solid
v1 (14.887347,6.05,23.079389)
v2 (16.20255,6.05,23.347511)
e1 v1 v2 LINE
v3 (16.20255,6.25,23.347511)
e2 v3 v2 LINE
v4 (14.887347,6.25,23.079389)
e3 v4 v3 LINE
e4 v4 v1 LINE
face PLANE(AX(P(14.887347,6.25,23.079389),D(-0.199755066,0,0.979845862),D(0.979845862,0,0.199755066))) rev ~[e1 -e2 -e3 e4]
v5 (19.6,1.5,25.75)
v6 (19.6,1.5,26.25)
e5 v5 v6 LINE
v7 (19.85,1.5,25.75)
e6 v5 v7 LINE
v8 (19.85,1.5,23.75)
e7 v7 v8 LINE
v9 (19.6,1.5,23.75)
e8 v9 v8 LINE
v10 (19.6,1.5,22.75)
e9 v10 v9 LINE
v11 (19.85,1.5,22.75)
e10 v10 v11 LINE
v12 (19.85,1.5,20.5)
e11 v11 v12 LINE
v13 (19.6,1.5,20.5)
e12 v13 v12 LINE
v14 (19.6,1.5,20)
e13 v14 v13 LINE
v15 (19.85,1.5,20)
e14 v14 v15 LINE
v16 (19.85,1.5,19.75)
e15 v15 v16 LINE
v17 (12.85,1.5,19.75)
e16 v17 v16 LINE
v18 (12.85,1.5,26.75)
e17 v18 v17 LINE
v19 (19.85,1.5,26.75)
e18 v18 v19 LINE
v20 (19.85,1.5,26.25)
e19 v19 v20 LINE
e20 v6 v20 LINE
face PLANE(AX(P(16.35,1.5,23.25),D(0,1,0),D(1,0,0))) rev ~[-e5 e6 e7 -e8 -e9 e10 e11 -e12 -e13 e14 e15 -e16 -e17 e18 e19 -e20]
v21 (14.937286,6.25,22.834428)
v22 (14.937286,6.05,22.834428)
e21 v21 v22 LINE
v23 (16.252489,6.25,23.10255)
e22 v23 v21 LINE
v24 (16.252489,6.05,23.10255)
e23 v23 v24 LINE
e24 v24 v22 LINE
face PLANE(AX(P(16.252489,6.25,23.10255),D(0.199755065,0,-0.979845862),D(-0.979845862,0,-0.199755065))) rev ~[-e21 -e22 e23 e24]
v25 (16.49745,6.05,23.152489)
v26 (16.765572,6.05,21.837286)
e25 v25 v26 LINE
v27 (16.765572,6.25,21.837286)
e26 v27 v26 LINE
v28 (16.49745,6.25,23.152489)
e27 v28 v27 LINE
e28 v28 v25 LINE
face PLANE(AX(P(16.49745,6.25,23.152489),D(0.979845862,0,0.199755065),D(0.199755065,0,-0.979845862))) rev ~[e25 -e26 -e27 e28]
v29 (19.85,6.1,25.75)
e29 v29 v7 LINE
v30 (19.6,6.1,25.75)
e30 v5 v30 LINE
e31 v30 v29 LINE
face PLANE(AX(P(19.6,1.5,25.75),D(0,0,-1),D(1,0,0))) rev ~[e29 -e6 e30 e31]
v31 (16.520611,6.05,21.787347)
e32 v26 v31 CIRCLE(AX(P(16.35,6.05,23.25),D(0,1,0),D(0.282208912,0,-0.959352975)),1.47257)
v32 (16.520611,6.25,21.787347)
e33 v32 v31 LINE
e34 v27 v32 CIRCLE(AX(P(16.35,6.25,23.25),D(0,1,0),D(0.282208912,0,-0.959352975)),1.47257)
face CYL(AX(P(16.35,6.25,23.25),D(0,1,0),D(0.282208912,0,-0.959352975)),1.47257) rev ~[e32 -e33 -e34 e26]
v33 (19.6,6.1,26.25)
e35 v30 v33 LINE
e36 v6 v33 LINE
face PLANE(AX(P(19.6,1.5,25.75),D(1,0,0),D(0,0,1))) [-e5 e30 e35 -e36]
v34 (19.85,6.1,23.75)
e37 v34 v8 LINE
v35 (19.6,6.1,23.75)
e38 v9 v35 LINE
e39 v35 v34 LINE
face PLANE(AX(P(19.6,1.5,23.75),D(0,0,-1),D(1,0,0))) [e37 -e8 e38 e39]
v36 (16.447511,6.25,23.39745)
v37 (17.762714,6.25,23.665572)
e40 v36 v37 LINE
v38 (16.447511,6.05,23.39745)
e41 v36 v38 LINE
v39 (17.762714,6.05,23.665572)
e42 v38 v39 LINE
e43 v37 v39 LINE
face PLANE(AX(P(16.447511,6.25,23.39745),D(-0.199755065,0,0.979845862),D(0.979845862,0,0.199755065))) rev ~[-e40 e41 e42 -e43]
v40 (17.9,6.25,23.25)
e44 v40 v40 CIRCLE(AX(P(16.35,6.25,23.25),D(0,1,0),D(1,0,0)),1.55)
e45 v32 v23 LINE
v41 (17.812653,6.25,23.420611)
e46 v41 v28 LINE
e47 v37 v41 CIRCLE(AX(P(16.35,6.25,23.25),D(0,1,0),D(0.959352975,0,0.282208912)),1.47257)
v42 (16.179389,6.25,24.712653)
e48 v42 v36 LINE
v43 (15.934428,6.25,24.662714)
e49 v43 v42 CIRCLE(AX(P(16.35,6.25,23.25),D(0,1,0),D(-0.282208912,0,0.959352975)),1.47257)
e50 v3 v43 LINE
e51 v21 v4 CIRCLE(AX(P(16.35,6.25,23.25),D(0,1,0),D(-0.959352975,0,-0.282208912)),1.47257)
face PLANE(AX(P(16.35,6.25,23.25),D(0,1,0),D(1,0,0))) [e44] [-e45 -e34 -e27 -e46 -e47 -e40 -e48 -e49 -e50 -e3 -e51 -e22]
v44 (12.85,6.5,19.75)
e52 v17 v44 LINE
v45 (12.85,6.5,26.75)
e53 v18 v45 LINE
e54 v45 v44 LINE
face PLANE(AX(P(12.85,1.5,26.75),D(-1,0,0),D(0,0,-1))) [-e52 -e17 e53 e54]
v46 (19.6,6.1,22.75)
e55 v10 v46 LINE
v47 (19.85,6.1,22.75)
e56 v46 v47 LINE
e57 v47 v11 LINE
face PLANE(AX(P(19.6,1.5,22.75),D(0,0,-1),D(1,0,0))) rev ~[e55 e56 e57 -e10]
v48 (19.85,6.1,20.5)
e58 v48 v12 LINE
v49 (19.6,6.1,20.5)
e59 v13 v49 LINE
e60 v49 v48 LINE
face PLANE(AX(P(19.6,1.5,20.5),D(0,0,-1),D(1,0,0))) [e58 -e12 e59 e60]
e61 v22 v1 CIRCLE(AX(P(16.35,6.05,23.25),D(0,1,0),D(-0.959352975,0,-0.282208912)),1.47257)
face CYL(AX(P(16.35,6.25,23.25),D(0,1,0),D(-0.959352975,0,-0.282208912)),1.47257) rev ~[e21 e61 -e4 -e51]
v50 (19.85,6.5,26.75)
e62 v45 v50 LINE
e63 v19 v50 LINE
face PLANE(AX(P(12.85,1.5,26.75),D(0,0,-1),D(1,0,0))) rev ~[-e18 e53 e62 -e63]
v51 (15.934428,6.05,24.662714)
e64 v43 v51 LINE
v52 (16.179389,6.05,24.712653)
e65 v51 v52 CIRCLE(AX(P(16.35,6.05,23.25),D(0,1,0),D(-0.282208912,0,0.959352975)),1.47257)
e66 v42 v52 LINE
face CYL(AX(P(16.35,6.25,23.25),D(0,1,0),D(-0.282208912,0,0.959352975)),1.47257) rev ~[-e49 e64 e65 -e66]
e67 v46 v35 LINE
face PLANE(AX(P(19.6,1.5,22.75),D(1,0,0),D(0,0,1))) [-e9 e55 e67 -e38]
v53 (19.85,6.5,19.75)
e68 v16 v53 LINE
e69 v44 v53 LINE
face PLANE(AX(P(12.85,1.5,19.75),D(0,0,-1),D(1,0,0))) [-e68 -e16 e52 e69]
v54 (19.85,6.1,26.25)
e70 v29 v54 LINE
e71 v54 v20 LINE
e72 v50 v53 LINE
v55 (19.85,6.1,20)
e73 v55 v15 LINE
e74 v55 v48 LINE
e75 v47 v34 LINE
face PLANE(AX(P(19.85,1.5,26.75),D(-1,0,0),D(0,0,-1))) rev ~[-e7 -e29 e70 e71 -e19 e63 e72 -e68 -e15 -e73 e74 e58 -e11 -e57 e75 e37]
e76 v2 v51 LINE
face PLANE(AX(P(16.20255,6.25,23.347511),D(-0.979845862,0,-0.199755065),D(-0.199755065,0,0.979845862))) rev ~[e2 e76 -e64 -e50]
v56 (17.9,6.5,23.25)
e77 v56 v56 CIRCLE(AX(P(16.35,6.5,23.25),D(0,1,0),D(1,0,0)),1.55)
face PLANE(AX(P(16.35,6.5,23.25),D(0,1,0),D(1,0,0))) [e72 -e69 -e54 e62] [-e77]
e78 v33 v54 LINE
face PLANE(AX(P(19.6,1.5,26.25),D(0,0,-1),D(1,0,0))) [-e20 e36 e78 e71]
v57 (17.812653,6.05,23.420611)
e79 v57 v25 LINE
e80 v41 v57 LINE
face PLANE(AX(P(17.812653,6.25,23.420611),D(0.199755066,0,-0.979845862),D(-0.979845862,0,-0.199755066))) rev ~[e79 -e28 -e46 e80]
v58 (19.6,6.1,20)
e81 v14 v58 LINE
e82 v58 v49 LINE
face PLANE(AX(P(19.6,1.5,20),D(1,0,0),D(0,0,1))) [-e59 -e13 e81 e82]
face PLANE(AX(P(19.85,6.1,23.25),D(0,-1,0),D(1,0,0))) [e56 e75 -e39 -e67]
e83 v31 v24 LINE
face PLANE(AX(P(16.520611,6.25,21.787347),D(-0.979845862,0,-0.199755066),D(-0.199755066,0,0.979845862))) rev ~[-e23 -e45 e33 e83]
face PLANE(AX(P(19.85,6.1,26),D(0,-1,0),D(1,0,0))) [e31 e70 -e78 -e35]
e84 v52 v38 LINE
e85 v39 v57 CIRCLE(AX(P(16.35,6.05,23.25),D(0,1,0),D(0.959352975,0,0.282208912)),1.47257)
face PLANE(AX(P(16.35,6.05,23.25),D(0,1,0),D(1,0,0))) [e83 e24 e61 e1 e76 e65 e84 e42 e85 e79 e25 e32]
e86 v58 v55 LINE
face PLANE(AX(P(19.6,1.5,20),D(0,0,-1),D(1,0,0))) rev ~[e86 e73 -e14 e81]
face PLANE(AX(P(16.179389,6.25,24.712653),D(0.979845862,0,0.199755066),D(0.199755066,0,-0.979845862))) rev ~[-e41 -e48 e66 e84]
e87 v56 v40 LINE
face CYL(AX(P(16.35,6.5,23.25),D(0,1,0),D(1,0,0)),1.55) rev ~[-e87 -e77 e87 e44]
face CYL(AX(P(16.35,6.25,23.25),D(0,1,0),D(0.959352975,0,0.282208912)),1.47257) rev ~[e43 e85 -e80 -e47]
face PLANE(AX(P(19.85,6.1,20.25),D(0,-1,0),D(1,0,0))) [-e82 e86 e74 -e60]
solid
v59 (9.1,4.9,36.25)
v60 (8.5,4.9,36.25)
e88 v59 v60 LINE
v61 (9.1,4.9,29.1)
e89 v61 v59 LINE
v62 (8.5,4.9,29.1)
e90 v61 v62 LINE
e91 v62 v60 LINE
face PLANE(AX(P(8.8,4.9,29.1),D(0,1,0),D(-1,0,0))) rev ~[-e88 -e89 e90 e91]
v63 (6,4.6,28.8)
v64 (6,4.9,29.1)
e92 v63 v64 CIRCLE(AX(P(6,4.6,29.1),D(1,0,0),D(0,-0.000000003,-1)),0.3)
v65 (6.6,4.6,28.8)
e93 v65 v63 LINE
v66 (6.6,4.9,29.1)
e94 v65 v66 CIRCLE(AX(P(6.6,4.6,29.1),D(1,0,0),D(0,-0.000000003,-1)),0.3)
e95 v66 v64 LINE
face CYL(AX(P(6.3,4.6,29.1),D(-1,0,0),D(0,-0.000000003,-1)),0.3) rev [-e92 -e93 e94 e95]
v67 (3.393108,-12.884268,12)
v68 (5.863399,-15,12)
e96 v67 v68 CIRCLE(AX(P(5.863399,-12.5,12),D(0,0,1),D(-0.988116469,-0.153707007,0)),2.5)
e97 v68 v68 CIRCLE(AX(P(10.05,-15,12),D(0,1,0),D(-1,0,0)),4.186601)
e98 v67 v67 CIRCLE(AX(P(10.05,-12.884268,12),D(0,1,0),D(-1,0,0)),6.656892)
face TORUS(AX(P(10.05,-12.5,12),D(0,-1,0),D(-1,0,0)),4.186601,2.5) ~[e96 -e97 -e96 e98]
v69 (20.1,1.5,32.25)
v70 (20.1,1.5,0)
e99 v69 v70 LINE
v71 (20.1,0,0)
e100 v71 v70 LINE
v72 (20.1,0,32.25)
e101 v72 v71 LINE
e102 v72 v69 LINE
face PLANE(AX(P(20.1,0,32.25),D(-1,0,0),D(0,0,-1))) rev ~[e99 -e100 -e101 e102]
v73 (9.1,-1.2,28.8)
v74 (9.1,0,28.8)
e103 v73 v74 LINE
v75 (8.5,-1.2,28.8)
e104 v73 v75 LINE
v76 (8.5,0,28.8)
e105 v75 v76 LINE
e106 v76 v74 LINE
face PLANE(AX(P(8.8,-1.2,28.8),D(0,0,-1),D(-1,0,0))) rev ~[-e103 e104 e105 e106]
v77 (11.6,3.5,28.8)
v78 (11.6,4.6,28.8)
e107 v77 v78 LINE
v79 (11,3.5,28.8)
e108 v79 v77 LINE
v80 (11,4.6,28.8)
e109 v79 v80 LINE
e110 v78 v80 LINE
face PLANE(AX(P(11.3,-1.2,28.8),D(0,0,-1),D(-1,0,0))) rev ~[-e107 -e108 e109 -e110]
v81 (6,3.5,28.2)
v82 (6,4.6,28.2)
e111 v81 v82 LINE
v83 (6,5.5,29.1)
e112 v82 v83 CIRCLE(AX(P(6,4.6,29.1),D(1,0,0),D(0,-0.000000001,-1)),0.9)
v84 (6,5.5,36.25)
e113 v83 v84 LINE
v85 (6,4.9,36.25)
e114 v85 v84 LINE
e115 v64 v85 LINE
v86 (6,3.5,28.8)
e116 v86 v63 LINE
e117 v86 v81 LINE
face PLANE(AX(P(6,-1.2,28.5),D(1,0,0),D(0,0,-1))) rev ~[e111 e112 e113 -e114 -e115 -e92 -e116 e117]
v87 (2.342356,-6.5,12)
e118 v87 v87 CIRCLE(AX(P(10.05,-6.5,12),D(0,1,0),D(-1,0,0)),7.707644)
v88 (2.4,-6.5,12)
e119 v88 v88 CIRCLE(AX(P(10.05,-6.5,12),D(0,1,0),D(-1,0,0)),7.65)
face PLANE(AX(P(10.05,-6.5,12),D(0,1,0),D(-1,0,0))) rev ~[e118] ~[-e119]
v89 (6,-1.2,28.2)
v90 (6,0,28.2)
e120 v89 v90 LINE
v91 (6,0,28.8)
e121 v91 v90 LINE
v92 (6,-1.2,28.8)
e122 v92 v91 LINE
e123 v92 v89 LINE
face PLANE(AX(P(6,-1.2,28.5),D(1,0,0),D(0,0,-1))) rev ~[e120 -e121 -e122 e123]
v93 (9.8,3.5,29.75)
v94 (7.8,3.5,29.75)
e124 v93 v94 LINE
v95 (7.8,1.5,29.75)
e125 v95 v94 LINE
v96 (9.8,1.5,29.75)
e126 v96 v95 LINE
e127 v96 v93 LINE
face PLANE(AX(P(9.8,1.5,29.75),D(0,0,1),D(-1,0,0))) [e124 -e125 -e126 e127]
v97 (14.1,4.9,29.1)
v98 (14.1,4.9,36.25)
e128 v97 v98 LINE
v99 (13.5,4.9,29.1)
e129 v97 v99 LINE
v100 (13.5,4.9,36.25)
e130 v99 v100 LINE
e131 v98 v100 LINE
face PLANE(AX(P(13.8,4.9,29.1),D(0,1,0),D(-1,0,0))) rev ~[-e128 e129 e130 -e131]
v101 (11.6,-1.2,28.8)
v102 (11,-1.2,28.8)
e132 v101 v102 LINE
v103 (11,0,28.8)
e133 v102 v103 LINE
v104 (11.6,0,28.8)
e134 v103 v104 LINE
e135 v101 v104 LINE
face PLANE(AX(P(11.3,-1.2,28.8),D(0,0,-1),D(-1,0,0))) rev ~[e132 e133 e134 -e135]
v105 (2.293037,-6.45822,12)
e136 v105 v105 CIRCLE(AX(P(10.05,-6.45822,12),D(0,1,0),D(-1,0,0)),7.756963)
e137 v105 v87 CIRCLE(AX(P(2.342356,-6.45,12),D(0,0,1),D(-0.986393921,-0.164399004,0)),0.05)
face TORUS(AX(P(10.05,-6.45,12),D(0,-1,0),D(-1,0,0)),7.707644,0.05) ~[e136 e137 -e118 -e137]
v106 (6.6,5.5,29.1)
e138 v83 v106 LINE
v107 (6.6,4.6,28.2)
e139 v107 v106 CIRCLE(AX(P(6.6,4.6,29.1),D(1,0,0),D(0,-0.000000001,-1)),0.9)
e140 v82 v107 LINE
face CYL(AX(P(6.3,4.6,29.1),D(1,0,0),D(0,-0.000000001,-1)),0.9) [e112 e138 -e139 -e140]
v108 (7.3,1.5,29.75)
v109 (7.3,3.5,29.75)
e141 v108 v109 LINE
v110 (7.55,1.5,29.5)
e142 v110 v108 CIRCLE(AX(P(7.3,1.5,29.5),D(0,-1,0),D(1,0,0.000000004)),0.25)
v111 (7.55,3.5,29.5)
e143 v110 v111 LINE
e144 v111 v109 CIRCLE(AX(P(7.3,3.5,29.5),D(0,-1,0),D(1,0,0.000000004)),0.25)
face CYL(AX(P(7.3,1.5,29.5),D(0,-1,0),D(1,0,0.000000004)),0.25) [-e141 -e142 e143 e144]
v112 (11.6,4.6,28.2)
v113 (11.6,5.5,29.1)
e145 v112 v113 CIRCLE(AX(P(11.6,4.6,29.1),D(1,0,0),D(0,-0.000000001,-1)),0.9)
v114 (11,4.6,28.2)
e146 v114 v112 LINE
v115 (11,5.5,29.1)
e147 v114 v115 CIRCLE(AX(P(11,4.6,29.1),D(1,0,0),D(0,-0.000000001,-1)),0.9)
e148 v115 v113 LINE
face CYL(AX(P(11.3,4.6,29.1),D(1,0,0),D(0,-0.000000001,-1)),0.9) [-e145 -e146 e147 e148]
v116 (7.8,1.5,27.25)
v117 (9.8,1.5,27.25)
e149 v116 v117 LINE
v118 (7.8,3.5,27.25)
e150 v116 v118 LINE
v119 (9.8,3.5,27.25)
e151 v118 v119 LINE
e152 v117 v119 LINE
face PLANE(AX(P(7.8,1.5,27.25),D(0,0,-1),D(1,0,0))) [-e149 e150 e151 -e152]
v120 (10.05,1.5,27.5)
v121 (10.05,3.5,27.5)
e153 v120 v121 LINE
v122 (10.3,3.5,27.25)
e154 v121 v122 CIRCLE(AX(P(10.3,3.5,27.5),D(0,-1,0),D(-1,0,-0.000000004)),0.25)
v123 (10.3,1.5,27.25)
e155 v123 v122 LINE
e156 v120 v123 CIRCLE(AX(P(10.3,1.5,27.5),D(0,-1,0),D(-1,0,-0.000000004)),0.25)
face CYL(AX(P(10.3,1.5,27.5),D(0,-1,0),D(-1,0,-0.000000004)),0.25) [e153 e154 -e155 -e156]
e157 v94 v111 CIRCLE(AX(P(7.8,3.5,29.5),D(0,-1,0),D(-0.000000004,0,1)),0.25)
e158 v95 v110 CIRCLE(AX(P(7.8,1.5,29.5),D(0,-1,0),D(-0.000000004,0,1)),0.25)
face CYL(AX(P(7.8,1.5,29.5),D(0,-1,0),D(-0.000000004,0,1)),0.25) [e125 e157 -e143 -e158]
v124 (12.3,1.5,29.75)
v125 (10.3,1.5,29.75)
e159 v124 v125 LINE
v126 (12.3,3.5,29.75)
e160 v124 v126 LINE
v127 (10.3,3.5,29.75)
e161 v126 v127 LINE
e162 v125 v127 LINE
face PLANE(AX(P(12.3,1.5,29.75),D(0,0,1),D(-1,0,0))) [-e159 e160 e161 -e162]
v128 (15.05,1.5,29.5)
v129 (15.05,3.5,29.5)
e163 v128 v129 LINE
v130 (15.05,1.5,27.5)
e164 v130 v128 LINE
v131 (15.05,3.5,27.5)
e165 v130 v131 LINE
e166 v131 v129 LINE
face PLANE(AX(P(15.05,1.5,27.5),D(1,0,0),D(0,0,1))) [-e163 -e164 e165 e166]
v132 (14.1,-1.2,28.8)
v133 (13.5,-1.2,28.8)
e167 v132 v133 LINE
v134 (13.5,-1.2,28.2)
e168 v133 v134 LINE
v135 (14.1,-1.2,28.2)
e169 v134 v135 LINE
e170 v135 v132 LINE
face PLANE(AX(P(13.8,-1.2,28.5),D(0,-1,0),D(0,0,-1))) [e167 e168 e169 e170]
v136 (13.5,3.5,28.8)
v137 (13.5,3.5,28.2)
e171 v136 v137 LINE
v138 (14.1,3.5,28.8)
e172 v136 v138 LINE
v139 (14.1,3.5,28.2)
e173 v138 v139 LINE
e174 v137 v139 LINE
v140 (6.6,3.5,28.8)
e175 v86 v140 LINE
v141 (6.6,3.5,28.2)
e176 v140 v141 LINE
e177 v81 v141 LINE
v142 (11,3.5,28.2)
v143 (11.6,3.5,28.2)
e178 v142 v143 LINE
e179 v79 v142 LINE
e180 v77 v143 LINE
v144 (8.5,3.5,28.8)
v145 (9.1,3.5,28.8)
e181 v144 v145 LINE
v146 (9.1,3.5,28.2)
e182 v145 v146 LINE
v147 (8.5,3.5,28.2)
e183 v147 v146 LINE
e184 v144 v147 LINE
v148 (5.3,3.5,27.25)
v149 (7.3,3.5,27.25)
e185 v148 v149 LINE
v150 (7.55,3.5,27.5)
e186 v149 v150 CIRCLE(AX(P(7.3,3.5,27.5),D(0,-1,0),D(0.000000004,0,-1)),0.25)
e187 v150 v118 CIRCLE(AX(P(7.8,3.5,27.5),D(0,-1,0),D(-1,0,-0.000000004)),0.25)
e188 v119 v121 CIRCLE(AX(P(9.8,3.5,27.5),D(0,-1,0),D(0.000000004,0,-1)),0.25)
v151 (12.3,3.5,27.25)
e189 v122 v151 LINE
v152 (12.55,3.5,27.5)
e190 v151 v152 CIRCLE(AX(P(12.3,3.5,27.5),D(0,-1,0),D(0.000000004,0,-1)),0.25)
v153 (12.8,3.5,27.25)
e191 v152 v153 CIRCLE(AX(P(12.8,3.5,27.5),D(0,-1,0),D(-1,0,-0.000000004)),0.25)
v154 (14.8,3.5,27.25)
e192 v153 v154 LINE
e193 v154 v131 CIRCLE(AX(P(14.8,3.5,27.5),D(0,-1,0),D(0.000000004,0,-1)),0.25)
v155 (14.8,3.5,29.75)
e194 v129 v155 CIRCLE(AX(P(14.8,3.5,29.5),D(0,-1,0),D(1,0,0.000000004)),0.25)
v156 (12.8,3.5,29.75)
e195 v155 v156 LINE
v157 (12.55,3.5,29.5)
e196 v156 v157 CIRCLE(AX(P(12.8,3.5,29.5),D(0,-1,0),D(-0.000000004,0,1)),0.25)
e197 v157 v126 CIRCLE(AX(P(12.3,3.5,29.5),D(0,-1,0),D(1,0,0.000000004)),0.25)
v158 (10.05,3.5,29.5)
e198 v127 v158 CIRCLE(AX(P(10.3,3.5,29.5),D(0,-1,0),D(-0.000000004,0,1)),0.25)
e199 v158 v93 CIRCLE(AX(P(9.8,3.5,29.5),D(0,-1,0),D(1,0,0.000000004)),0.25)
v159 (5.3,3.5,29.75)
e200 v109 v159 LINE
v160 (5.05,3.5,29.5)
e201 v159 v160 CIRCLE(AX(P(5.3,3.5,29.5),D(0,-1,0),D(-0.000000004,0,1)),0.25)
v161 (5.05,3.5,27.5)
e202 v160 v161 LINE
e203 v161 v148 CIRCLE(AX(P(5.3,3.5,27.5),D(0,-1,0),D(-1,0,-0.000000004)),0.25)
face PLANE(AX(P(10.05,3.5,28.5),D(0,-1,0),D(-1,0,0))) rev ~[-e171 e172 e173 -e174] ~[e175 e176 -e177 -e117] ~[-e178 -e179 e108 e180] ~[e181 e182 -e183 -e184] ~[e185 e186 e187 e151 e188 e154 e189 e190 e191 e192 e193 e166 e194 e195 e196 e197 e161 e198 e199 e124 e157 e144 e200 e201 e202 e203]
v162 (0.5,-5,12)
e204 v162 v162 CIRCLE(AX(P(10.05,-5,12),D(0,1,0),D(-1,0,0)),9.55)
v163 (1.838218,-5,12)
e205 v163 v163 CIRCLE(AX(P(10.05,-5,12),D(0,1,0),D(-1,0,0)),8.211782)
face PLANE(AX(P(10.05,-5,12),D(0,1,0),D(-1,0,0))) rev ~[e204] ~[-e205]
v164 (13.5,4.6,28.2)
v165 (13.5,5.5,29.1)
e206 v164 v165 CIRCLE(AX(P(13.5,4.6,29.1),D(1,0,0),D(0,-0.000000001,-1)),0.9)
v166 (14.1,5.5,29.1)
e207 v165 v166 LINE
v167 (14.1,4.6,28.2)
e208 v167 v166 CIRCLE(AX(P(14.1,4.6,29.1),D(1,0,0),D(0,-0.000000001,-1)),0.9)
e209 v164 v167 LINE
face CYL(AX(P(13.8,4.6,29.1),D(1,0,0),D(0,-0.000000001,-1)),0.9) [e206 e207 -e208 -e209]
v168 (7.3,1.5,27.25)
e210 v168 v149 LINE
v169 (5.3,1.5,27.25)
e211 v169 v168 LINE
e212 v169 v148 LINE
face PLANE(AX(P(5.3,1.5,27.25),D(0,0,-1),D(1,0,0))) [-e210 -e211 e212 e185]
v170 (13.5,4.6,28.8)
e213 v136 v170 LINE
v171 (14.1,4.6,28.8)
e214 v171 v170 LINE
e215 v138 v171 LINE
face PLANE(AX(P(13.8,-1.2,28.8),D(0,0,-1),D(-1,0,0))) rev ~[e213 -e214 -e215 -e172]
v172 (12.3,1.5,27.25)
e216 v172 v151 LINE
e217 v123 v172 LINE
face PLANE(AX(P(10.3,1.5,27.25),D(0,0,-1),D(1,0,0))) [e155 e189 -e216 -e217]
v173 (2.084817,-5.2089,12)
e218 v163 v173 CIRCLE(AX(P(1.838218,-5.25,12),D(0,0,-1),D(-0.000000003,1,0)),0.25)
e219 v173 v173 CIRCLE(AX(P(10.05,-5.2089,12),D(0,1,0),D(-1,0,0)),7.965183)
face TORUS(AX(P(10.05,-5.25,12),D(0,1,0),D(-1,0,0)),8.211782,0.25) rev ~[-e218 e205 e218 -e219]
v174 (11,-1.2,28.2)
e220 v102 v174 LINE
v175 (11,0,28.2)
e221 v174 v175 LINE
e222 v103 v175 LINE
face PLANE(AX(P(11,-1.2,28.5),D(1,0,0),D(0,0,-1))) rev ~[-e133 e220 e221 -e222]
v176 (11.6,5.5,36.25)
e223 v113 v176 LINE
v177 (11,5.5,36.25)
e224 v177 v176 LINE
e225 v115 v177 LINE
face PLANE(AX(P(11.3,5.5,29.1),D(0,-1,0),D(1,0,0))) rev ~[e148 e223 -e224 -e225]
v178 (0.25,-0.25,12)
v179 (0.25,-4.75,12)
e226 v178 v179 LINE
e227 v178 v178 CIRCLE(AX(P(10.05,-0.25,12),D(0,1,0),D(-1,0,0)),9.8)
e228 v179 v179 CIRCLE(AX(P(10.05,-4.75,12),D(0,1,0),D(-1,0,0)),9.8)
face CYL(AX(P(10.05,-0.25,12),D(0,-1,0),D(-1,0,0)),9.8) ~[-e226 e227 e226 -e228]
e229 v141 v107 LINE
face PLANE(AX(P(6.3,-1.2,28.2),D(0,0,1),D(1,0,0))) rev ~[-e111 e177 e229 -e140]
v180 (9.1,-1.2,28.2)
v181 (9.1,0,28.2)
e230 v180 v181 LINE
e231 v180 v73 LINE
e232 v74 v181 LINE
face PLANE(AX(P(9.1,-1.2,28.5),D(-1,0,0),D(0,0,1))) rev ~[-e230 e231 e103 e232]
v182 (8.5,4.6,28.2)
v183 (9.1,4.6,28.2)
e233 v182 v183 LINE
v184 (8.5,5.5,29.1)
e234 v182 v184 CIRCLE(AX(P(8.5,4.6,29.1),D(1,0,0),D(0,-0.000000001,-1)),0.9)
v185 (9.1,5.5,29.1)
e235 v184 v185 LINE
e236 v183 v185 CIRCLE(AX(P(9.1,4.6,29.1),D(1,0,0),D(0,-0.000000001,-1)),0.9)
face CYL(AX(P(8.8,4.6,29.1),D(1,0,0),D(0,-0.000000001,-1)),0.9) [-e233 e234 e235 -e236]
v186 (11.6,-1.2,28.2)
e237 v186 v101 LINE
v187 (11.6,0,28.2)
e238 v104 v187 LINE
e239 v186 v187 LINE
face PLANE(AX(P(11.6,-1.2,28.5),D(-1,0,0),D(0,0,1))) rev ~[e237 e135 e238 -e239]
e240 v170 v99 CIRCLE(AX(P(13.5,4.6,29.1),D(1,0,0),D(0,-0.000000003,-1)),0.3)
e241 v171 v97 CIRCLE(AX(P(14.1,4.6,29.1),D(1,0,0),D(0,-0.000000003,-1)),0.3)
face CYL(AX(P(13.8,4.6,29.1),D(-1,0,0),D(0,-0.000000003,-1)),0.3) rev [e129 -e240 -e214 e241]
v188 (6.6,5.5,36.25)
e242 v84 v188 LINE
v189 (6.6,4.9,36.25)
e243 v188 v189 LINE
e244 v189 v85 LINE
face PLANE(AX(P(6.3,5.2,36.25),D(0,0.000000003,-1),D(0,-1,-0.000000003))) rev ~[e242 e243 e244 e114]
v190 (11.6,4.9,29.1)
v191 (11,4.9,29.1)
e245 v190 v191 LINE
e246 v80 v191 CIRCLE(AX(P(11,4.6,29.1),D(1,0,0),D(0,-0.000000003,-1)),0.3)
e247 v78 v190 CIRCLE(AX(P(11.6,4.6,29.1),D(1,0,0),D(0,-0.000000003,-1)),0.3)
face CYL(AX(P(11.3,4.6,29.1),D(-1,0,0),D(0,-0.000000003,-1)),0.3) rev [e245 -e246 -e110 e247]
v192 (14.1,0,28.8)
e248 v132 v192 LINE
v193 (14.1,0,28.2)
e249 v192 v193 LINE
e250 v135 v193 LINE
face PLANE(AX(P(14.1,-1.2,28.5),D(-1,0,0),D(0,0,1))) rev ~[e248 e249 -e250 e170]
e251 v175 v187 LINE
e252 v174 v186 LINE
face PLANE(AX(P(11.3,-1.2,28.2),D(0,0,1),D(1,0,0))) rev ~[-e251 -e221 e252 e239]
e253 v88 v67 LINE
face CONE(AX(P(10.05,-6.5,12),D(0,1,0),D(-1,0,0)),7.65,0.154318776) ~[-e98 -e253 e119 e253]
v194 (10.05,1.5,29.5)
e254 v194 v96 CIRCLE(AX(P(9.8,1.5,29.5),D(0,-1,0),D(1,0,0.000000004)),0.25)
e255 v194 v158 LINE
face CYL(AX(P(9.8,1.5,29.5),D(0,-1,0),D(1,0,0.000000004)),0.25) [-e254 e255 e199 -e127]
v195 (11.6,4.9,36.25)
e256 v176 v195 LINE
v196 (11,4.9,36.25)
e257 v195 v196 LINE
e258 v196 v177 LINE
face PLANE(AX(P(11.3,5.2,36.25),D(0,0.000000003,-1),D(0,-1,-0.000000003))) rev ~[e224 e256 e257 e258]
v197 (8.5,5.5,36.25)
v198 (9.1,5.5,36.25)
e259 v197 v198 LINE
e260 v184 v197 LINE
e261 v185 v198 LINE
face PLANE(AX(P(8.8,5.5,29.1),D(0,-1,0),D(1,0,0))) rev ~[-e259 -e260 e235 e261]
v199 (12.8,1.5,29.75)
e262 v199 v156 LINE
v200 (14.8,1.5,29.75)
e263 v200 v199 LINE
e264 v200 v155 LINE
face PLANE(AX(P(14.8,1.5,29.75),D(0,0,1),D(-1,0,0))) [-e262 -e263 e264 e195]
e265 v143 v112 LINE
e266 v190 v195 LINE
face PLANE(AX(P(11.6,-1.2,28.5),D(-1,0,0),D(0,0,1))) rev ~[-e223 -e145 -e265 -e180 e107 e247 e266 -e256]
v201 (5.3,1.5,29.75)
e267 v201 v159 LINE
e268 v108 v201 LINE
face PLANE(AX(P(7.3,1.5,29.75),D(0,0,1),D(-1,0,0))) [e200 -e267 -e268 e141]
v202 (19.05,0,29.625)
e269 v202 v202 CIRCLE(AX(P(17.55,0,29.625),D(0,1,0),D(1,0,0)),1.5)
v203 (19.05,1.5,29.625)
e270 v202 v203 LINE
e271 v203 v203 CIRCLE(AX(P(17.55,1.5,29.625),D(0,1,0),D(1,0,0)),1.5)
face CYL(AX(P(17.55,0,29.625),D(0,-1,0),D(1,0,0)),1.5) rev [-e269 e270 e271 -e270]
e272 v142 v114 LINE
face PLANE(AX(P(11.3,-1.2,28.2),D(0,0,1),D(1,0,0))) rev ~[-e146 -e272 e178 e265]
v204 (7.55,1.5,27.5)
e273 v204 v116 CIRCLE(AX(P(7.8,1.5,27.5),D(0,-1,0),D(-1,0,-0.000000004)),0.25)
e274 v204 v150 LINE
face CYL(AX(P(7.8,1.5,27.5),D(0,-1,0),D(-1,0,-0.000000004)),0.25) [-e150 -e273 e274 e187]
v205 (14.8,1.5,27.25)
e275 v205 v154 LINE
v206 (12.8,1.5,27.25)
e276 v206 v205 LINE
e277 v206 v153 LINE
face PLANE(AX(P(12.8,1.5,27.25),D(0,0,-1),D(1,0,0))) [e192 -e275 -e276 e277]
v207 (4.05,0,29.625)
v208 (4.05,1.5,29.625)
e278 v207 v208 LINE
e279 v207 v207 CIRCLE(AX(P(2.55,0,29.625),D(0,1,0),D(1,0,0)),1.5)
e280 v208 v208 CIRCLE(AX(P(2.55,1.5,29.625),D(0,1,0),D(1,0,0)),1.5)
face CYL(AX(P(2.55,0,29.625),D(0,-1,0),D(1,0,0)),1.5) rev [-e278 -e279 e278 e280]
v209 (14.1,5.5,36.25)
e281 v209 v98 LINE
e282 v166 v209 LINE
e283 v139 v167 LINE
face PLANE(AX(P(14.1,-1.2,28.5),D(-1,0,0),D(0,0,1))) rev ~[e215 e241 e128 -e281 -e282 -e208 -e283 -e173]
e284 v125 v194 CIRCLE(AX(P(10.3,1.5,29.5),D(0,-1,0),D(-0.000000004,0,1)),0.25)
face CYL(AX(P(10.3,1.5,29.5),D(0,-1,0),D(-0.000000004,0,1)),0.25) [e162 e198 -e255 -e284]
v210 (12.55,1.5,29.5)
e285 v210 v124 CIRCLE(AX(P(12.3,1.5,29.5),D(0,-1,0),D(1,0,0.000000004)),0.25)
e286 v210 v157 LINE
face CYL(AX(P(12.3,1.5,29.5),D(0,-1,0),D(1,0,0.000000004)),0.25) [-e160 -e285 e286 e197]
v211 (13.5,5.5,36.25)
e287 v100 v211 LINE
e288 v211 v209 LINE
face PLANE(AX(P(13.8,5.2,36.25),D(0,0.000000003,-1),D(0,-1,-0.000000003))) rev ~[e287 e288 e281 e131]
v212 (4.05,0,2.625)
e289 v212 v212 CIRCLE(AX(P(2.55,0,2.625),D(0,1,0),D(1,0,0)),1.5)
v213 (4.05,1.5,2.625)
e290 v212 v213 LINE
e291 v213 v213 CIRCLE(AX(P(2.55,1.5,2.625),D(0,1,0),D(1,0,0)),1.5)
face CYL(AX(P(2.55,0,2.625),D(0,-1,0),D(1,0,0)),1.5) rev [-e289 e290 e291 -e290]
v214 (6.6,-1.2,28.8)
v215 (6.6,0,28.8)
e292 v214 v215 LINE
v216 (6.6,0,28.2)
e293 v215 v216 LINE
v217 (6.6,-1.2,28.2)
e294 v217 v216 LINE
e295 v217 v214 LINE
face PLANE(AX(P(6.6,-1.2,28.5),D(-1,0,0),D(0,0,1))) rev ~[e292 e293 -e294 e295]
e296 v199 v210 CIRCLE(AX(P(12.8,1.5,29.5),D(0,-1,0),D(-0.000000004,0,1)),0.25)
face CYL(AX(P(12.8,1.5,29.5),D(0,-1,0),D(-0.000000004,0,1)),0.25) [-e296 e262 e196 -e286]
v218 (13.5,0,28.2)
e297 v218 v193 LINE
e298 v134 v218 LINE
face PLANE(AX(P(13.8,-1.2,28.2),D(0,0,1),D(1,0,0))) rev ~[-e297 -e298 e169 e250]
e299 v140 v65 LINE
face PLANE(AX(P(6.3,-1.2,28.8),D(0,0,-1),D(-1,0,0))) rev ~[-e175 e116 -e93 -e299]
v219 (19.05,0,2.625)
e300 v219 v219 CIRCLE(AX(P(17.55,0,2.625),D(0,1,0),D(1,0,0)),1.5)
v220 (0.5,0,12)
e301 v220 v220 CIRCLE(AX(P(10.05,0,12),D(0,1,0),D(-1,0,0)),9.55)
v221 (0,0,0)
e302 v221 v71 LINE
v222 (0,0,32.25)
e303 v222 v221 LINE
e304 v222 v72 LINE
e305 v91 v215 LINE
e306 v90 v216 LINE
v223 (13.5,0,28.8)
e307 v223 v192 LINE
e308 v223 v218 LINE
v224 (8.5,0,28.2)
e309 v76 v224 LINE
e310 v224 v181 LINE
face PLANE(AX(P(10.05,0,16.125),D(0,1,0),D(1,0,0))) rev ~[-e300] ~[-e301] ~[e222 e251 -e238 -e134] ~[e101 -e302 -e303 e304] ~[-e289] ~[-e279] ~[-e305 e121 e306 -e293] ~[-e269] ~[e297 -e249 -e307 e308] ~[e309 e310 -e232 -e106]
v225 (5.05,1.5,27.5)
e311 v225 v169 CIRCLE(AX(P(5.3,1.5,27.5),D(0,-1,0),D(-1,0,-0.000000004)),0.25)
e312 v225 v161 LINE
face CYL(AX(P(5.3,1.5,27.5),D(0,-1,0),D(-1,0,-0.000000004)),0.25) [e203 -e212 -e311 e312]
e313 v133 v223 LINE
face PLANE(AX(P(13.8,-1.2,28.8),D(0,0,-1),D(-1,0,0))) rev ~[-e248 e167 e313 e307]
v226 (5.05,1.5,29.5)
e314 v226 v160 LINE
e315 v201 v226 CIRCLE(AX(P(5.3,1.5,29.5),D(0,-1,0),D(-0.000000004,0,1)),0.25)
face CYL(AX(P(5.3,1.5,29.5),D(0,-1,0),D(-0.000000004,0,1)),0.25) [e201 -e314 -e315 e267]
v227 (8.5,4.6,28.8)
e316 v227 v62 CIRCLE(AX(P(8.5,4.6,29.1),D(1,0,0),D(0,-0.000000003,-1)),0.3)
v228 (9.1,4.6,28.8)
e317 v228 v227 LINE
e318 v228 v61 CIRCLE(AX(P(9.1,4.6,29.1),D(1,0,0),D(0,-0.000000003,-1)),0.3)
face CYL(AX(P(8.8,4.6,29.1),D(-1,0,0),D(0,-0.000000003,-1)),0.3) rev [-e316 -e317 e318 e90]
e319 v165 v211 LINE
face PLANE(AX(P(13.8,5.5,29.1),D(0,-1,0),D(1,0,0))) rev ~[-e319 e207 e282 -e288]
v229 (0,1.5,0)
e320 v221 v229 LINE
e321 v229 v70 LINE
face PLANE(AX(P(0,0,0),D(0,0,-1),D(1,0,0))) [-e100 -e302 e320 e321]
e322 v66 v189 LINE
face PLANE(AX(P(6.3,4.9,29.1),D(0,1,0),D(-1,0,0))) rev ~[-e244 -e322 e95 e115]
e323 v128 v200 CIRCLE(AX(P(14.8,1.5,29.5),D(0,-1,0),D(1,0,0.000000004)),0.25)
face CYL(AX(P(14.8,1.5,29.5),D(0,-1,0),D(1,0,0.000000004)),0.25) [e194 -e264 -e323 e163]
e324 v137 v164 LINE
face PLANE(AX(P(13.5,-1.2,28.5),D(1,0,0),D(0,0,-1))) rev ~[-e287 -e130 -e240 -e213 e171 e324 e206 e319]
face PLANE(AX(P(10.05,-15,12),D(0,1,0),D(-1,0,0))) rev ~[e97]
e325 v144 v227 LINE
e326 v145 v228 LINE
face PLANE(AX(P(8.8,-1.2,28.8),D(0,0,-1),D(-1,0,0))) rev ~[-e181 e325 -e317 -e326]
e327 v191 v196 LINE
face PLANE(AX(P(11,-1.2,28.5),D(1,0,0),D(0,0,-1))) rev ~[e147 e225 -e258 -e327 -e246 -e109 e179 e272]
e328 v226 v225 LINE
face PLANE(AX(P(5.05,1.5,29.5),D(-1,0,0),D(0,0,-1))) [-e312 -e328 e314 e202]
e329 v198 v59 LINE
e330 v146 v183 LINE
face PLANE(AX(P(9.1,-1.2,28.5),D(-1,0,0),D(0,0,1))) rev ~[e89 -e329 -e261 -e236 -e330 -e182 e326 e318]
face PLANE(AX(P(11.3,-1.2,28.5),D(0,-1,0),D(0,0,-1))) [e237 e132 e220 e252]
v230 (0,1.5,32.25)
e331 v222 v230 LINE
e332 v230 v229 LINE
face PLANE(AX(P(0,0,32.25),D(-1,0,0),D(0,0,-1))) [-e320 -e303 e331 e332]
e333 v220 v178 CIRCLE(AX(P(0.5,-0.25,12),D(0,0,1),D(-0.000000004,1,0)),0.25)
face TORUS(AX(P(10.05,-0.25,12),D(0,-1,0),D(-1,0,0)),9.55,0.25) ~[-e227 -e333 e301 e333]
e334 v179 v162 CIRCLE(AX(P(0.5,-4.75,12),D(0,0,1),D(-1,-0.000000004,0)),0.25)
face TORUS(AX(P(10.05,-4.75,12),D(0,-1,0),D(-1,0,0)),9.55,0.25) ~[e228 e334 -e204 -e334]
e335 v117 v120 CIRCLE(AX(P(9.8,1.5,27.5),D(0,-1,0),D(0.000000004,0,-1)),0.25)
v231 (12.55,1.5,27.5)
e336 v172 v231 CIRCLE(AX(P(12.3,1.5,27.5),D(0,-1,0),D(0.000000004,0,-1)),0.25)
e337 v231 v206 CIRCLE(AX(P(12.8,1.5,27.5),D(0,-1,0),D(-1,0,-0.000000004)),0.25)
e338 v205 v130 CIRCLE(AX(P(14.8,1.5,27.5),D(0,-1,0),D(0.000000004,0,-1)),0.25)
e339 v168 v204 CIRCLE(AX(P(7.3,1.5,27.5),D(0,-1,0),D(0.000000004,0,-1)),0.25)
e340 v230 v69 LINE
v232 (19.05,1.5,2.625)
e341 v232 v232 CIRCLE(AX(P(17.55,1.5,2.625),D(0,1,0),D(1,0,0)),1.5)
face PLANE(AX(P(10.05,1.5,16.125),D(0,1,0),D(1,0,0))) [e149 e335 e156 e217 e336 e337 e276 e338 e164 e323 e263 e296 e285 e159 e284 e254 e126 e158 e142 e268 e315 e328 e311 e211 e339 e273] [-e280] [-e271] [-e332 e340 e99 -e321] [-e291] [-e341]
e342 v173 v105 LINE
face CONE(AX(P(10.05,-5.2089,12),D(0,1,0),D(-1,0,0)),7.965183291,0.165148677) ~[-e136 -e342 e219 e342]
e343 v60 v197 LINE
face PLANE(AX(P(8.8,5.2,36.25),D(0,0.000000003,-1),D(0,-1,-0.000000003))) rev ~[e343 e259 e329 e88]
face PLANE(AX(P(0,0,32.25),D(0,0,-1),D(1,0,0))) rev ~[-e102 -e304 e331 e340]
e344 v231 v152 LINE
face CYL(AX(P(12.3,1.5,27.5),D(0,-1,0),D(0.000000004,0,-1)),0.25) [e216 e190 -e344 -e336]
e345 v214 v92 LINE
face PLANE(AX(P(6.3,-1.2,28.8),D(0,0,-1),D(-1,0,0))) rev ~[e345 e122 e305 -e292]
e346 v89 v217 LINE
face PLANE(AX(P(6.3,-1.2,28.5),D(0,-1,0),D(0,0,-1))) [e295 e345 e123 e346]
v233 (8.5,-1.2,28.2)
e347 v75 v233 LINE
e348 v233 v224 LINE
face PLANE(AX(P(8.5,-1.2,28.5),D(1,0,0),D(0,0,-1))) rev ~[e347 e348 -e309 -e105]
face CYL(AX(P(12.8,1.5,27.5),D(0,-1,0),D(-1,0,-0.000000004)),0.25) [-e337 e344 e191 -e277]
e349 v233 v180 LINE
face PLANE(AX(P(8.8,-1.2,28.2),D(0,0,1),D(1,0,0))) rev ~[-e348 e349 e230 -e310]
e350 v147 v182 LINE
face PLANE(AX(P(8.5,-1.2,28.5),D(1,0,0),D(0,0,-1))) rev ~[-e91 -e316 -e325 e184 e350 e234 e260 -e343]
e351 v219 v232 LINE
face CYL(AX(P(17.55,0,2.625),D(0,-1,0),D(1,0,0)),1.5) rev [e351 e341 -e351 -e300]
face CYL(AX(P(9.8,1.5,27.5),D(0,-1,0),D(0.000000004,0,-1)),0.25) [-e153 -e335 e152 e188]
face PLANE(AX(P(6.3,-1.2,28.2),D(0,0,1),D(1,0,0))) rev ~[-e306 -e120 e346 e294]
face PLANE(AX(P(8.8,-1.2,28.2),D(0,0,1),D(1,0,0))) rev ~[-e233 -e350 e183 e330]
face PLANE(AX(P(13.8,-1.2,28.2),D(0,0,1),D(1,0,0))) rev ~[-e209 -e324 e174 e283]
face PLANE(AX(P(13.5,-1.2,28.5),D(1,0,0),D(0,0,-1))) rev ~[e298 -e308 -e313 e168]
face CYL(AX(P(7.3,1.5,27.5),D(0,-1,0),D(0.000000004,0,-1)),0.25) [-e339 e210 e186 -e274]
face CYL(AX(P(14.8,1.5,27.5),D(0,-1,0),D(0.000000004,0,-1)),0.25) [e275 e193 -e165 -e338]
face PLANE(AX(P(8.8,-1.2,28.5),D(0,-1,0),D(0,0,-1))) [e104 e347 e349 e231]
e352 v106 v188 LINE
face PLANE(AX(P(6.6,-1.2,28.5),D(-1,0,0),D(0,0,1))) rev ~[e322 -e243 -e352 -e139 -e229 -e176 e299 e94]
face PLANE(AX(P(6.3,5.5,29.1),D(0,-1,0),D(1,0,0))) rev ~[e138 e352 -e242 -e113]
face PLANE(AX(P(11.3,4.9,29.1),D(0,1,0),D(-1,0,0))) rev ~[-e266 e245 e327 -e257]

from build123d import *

# Parameters (mm, degrees)
SKETCH1_W           = 20.1
SKETCH1_H           = 32.25
SKETCH1_R           = 1.5
BOSS_EXTRUDE1_DEPTH = 1.5
SKETCH2_W           = 0.6
SKETCH2_H           = 0.6
BOSS_EXTRUDE2_DEPTH = 2
SKETCH4_W           = 0.6
SKETCH4_H           = 0.6
CUT_EXTRUDE1_DEPTH  = 1.5
SKETCH5_W           = 0.6
SKETCH5_H           = 0.6
SKETCH6_W           = 7
SKETCH6_H           = 7
BOSS_EXTRUDE3_DEPTH = 5
SKETCH7_W           = 0.5
SKETCH7_H           = 1
SKETCH7_H_2         = 0.5
CUT_EXTRUDE2_DEPTH  = 4.6
SKETCH8_R           = 1.55
CUT_EXTRUDE3_DEPTH  = 0.25
CUT_EXTRUDE4_DEPTH  = 0.2


with BuildPart() as part:
    # Sketch1 → Boss-Extrude1 (new body)
    with BuildSketch(Plane(origin=(0, 0, 0), x_dir=(1, 0, 0), z_dir=(0, 1, 0))):
        with Locations((10.05, -16.125)):
            Rectangle(SKETCH1_W, SKETCH1_H)
        with Locations((2.55, -2.625)):
            Circle(SKETCH1_R, mode=Mode.SUBTRACT)
        with Locations((17.55, -2.625)):
            Circle(SKETCH1_R, mode=Mode.SUBTRACT)
        with Locations((2.55, -29.625)):
            Circle(SKETCH1_R, mode=Mode.SUBTRACT)
        with Locations((17.55, -29.625)):
            Circle(SKETCH1_R, mode=Mode.SUBTRACT)
    extrude(amount=BOSS_EXTRUDE1_DEPTH)

    # Sketch2 → Boss-Extrude2 (add)
    with BuildSketch(Plane(origin=(0, 1.5, 0), x_dir=(1, 0, 0), z_dir=(0, 1, 0))):
        with BuildLine():
            Line((5.3, -27.25), (7.3, -27.25))
            ThreePointArc((7.3, -27.25), (7.476776695, -27.323223305), (7.55, -27.5))
            ThreePointArc((7.55, -27.5), (7.623223305, -27.323223305), (7.8, -27.25))
            Line((7.8, -27.25), (9.8, -27.25))
            ThreePointArc((9.8, -27.25), (9.976776695, -27.323223305), (10.05, -27.5))
            ThreePointArc((10.05, -27.5), (10.123223305, -27.323223305), (10.3, -27.25))
            Line((10.3, -27.25), (12.3, -27.25))
            ThreePointArc((12.3, -27.25), (12.476776695, -27.323223305), (12.55, -27.5))
            ThreePointArc((12.55, -27.5), (12.623223305, -27.323223305), (12.8, -27.25))
            Line((12.8, -27.25), (14.8, -27.25))
            ThreePointArc((14.8, -27.25), (14.976776695, -27.323223305), (15.05, -27.5))
            Line((15.05, -27.5), (15.05, -29.5))
            ThreePointArc((15.05, -29.5), (14.976776695, -29.676776695), (14.8, -29.75))
            Line((14.8, -29.75), (12.8, -29.75))
            ThreePointArc((12.8, -29.75), (12.623223305, -29.676776695), (12.55, -29.5))
            ThreePointArc((12.55, -29.5), (12.476776695, -29.676776695), (12.3, -29.75))
            Line((12.3, -29.75), (10.3, -29.75))
            ThreePointArc((10.3, -29.75), (10.123223305, -29.676776695), (10.05, -29.5))
            ThreePointArc((10.05, -29.5), (9.976776695, -29.676776695), (9.8, -29.75))
            Line((9.8, -29.75), (7.8, -29.75))
            ThreePointArc((7.8, -29.75), (7.623223305, -29.676776695), (7.55, -29.5))
            ThreePointArc((7.55, -29.5), (7.476776695, -29.676776695), (7.3, -29.75))
            Line((7.3, -29.75), (5.3, -29.75))
            ThreePointArc((5.3, -29.75), (5.123223305, -29.676776695), (5.05, -29.5))
            Line((5.05, -29.5), (5.05, -27.5))
            ThreePointArc((5.05, -27.5), (5.123223305, -27.323223305), (5.3, -27.25))
        make_face()
        with Locations((6.3, -28.5)):
            Rectangle(SKETCH2_W, SKETCH2_H, mode=Mode.SUBTRACT)
        with Locations((8.8, -28.5)):
            Rectangle(SKETCH2_W, SKETCH2_H, mode=Mode.SUBTRACT)
        with Locations((11.3, -28.5)):
            Rectangle(SKETCH2_W, SKETCH2_H, mode=Mode.SUBTRACT)
        with Locations((13.8, -28.5)):
            Rectangle(SKETCH2_W, SKETCH2_H, mode=Mode.SUBTRACT)
    extrude(amount=BOSS_EXTRUDE2_DEPTH)

    # Sketch4 → Cut-Extrude1 (cut)
    with BuildSketch(Plane(origin=(0, 1.5, 0), x_dir=(1, 0, 0), z_dir=(0, 1, 0))):
        with Locations((8.8, -28.5)):
            Rectangle(SKETCH4_W, SKETCH4_H)
        with Locations((6.3, -28.5)):
            Rectangle(SKETCH4_W, SKETCH4_H)
        with Locations((11.3, -28.5)):
            Rectangle(SKETCH4_W, SKETCH4_H)
        with Locations((13.8, -28.5)):
            Rectangle(SKETCH4_W, SKETCH4_H)
    extrude(amount=-CUT_EXTRUDE1_DEPTH, mode=Mode.SUBTRACT)

    # Sweep1: sweep along a path in Sketch3
    with BuildLine(Plane.ZY.offset(-5.05)) as sweep1_path:
        Line((28.5, -1.2), (28.5, 4.6))
        ThreePointArc((28.5, 4.6), (28.675735931, 5.024264069), (29.1, 5.2))
        Line((29.1, 5.2), (36.25, 5.2))
    # Sketch5 → Sweep1 (sweep)
    with BuildSketch(Plane(origin=(0, -1.2, 0), x_dir=(-1, 0, 0), z_dir=(0, -1, 0))):
        with Locations((-6.3, -28.5)):
            Rectangle(SKETCH5_W, SKETCH5_H)
        with Locations((-8.8, -28.5)):
            Rectangle(SKETCH5_W, SKETCH5_H)
        with Locations((-11.3, -28.5)):
            Rectangle(SKETCH5_W, SKETCH5_H)
        with Locations((-13.8, -28.5)):
            Rectangle(SKETCH5_W, SKETCH5_H)
    sweep(path=sweep1_path.line)

    # Sketch11 → Revolve1 (revolve)
    with BuildSketch(Plane(origin=(0, 0, 12), x_dir=(-1, 0, 0), z_dir=(0, 0, -1))):
        with BuildLine():
            Line((-10.05, 0), (-0.5, 0))
            ThreePointArc((-0.5, 0), (-0.323223305, -0.073223305), (-0.25, -0.25))
            Line((-0.25, -0.25), (-0.25, -4.75))
            ThreePointArc((-0.25, -4.75), (-0.323223305, -4.926776695), (-0.5, -5))
            Line((-0.5, -5), (-1.838218228, -5))
            ThreePointArc((-1.838218228, -5), (-1.999811952, -5.059245004), (-2.084816709, -5.208900253))
            Line((-2.084816709, -5.208900253), (-2.293036658, -6.458219949))
            ThreePointArc((-2.293036658, -6.458219949), (-2.31003761, -6.488150999), (-2.342356354, -6.5))
            Line((-2.342356354, -6.5), (-2.4, -6.5))
            Line((-2.4, -6.5), (-3.39310828, -12.884267516))
            ThreePointArc((-3.39310828, -12.884267516), (-4.237156665, -14.398771812), (-5.863399453, -15))
            Line((-5.863399453, -15), (-10.05, -15))
            Line((-10.05, -15), (-10.05, 0))
        make_face()
    revolve(axis=Axis((10.05, -15, 12), (0, 1, 0)))


with BuildPart() as body_2:
    # Sketch6 → Boss-Extrude3 (new body)
    with BuildSketch(Plane(origin=(0, 1.5, 0), x_dir=(1, 0, 0), z_dir=(0, 1, 0))):
        with Locations((16.35, -23.25)):
            Rectangle(SKETCH6_W, SKETCH6_H)
    extrude(amount=BOSS_EXTRUDE3_DEPTH)

    # Sketch7 → Cut-Extrude2 (cut)
    with BuildSketch(Plane.XZ.offset(-1.5)):
        with Locations((19.85, 23.25)):
            Rectangle(SKETCH7_W, SKETCH7_H)
        with Locations((19.85, 26)):
            Rectangle(SKETCH7_W, SKETCH7_H_2)
        with Locations((19.85, 20.25)):
            Rectangle(SKETCH7_W, SKETCH7_H_2)
    extrude(amount=-CUT_EXTRUDE2_DEPTH, mode=Mode.SUBTRACT)

    # Sketch8 → Cut-Extrude3 (cut)
    with BuildSketch(Plane(origin=(0, 6.5, 0), x_dir=(1, 0, 0), z_dir=(0, 1, 0))):
        with Locations((16.35, -23.25)):
            Circle(SKETCH8_R)
    extrude(amount=-CUT_EXTRUDE3_DEPTH, mode=Mode.SUBTRACT)

    # Sketch9 → Cut-Extrude4 (cut)
    with BuildSketch(Plane(origin=(0, 6.25, 0), x_dir=(1, 0, 0), z_dir=(0, 1, 0))):
        with BuildLine():
            Line((16.52061089, -21.787346857), (16.25248865, -23.102549884))
            Line((16.25248865, -23.102549884), (14.937285624, -22.834427645))
            ThreePointArc((14.937285624, -22.834427645), (14.907108416, -22.955846691), (14.887346857, -23.07938911))
            Line((14.887346857, -23.07938911), (16.202549884, -23.34751135))
            Line((16.202549884, -23.34751135), (15.934427645, -24.662714376))
            ThreePointArc((15.934427645, -24.662714376), (16.055846691, -24.692891584), (16.17938911, -24.712653143))
            Line((16.17938911, -24.712653143), (16.44751135, -23.397450116))
            Line((16.44751135, -23.397450116), (17.762714376, -23.665572355))
            ThreePointArc((17.762714376, -23.665572355), (17.792891584, -23.544153309), (17.812653143, -23.42061089))
            Line((17.812653143, -23.42061089), (16.497450116, -23.15248865))
            Line((16.497450116, -23.15248865), (16.765572355, -21.837285624))
            ThreePointArc((16.765572355, -21.837285624), (16.644153309, -21.807108416), (16.52061089, -21.787346857))
        make_face()
    extrude(amount=-CUT_EXTRUDE4_DEPTH, mode=Mode.SUBTRACT)


solid = Compound([part.part, body_2.part])
